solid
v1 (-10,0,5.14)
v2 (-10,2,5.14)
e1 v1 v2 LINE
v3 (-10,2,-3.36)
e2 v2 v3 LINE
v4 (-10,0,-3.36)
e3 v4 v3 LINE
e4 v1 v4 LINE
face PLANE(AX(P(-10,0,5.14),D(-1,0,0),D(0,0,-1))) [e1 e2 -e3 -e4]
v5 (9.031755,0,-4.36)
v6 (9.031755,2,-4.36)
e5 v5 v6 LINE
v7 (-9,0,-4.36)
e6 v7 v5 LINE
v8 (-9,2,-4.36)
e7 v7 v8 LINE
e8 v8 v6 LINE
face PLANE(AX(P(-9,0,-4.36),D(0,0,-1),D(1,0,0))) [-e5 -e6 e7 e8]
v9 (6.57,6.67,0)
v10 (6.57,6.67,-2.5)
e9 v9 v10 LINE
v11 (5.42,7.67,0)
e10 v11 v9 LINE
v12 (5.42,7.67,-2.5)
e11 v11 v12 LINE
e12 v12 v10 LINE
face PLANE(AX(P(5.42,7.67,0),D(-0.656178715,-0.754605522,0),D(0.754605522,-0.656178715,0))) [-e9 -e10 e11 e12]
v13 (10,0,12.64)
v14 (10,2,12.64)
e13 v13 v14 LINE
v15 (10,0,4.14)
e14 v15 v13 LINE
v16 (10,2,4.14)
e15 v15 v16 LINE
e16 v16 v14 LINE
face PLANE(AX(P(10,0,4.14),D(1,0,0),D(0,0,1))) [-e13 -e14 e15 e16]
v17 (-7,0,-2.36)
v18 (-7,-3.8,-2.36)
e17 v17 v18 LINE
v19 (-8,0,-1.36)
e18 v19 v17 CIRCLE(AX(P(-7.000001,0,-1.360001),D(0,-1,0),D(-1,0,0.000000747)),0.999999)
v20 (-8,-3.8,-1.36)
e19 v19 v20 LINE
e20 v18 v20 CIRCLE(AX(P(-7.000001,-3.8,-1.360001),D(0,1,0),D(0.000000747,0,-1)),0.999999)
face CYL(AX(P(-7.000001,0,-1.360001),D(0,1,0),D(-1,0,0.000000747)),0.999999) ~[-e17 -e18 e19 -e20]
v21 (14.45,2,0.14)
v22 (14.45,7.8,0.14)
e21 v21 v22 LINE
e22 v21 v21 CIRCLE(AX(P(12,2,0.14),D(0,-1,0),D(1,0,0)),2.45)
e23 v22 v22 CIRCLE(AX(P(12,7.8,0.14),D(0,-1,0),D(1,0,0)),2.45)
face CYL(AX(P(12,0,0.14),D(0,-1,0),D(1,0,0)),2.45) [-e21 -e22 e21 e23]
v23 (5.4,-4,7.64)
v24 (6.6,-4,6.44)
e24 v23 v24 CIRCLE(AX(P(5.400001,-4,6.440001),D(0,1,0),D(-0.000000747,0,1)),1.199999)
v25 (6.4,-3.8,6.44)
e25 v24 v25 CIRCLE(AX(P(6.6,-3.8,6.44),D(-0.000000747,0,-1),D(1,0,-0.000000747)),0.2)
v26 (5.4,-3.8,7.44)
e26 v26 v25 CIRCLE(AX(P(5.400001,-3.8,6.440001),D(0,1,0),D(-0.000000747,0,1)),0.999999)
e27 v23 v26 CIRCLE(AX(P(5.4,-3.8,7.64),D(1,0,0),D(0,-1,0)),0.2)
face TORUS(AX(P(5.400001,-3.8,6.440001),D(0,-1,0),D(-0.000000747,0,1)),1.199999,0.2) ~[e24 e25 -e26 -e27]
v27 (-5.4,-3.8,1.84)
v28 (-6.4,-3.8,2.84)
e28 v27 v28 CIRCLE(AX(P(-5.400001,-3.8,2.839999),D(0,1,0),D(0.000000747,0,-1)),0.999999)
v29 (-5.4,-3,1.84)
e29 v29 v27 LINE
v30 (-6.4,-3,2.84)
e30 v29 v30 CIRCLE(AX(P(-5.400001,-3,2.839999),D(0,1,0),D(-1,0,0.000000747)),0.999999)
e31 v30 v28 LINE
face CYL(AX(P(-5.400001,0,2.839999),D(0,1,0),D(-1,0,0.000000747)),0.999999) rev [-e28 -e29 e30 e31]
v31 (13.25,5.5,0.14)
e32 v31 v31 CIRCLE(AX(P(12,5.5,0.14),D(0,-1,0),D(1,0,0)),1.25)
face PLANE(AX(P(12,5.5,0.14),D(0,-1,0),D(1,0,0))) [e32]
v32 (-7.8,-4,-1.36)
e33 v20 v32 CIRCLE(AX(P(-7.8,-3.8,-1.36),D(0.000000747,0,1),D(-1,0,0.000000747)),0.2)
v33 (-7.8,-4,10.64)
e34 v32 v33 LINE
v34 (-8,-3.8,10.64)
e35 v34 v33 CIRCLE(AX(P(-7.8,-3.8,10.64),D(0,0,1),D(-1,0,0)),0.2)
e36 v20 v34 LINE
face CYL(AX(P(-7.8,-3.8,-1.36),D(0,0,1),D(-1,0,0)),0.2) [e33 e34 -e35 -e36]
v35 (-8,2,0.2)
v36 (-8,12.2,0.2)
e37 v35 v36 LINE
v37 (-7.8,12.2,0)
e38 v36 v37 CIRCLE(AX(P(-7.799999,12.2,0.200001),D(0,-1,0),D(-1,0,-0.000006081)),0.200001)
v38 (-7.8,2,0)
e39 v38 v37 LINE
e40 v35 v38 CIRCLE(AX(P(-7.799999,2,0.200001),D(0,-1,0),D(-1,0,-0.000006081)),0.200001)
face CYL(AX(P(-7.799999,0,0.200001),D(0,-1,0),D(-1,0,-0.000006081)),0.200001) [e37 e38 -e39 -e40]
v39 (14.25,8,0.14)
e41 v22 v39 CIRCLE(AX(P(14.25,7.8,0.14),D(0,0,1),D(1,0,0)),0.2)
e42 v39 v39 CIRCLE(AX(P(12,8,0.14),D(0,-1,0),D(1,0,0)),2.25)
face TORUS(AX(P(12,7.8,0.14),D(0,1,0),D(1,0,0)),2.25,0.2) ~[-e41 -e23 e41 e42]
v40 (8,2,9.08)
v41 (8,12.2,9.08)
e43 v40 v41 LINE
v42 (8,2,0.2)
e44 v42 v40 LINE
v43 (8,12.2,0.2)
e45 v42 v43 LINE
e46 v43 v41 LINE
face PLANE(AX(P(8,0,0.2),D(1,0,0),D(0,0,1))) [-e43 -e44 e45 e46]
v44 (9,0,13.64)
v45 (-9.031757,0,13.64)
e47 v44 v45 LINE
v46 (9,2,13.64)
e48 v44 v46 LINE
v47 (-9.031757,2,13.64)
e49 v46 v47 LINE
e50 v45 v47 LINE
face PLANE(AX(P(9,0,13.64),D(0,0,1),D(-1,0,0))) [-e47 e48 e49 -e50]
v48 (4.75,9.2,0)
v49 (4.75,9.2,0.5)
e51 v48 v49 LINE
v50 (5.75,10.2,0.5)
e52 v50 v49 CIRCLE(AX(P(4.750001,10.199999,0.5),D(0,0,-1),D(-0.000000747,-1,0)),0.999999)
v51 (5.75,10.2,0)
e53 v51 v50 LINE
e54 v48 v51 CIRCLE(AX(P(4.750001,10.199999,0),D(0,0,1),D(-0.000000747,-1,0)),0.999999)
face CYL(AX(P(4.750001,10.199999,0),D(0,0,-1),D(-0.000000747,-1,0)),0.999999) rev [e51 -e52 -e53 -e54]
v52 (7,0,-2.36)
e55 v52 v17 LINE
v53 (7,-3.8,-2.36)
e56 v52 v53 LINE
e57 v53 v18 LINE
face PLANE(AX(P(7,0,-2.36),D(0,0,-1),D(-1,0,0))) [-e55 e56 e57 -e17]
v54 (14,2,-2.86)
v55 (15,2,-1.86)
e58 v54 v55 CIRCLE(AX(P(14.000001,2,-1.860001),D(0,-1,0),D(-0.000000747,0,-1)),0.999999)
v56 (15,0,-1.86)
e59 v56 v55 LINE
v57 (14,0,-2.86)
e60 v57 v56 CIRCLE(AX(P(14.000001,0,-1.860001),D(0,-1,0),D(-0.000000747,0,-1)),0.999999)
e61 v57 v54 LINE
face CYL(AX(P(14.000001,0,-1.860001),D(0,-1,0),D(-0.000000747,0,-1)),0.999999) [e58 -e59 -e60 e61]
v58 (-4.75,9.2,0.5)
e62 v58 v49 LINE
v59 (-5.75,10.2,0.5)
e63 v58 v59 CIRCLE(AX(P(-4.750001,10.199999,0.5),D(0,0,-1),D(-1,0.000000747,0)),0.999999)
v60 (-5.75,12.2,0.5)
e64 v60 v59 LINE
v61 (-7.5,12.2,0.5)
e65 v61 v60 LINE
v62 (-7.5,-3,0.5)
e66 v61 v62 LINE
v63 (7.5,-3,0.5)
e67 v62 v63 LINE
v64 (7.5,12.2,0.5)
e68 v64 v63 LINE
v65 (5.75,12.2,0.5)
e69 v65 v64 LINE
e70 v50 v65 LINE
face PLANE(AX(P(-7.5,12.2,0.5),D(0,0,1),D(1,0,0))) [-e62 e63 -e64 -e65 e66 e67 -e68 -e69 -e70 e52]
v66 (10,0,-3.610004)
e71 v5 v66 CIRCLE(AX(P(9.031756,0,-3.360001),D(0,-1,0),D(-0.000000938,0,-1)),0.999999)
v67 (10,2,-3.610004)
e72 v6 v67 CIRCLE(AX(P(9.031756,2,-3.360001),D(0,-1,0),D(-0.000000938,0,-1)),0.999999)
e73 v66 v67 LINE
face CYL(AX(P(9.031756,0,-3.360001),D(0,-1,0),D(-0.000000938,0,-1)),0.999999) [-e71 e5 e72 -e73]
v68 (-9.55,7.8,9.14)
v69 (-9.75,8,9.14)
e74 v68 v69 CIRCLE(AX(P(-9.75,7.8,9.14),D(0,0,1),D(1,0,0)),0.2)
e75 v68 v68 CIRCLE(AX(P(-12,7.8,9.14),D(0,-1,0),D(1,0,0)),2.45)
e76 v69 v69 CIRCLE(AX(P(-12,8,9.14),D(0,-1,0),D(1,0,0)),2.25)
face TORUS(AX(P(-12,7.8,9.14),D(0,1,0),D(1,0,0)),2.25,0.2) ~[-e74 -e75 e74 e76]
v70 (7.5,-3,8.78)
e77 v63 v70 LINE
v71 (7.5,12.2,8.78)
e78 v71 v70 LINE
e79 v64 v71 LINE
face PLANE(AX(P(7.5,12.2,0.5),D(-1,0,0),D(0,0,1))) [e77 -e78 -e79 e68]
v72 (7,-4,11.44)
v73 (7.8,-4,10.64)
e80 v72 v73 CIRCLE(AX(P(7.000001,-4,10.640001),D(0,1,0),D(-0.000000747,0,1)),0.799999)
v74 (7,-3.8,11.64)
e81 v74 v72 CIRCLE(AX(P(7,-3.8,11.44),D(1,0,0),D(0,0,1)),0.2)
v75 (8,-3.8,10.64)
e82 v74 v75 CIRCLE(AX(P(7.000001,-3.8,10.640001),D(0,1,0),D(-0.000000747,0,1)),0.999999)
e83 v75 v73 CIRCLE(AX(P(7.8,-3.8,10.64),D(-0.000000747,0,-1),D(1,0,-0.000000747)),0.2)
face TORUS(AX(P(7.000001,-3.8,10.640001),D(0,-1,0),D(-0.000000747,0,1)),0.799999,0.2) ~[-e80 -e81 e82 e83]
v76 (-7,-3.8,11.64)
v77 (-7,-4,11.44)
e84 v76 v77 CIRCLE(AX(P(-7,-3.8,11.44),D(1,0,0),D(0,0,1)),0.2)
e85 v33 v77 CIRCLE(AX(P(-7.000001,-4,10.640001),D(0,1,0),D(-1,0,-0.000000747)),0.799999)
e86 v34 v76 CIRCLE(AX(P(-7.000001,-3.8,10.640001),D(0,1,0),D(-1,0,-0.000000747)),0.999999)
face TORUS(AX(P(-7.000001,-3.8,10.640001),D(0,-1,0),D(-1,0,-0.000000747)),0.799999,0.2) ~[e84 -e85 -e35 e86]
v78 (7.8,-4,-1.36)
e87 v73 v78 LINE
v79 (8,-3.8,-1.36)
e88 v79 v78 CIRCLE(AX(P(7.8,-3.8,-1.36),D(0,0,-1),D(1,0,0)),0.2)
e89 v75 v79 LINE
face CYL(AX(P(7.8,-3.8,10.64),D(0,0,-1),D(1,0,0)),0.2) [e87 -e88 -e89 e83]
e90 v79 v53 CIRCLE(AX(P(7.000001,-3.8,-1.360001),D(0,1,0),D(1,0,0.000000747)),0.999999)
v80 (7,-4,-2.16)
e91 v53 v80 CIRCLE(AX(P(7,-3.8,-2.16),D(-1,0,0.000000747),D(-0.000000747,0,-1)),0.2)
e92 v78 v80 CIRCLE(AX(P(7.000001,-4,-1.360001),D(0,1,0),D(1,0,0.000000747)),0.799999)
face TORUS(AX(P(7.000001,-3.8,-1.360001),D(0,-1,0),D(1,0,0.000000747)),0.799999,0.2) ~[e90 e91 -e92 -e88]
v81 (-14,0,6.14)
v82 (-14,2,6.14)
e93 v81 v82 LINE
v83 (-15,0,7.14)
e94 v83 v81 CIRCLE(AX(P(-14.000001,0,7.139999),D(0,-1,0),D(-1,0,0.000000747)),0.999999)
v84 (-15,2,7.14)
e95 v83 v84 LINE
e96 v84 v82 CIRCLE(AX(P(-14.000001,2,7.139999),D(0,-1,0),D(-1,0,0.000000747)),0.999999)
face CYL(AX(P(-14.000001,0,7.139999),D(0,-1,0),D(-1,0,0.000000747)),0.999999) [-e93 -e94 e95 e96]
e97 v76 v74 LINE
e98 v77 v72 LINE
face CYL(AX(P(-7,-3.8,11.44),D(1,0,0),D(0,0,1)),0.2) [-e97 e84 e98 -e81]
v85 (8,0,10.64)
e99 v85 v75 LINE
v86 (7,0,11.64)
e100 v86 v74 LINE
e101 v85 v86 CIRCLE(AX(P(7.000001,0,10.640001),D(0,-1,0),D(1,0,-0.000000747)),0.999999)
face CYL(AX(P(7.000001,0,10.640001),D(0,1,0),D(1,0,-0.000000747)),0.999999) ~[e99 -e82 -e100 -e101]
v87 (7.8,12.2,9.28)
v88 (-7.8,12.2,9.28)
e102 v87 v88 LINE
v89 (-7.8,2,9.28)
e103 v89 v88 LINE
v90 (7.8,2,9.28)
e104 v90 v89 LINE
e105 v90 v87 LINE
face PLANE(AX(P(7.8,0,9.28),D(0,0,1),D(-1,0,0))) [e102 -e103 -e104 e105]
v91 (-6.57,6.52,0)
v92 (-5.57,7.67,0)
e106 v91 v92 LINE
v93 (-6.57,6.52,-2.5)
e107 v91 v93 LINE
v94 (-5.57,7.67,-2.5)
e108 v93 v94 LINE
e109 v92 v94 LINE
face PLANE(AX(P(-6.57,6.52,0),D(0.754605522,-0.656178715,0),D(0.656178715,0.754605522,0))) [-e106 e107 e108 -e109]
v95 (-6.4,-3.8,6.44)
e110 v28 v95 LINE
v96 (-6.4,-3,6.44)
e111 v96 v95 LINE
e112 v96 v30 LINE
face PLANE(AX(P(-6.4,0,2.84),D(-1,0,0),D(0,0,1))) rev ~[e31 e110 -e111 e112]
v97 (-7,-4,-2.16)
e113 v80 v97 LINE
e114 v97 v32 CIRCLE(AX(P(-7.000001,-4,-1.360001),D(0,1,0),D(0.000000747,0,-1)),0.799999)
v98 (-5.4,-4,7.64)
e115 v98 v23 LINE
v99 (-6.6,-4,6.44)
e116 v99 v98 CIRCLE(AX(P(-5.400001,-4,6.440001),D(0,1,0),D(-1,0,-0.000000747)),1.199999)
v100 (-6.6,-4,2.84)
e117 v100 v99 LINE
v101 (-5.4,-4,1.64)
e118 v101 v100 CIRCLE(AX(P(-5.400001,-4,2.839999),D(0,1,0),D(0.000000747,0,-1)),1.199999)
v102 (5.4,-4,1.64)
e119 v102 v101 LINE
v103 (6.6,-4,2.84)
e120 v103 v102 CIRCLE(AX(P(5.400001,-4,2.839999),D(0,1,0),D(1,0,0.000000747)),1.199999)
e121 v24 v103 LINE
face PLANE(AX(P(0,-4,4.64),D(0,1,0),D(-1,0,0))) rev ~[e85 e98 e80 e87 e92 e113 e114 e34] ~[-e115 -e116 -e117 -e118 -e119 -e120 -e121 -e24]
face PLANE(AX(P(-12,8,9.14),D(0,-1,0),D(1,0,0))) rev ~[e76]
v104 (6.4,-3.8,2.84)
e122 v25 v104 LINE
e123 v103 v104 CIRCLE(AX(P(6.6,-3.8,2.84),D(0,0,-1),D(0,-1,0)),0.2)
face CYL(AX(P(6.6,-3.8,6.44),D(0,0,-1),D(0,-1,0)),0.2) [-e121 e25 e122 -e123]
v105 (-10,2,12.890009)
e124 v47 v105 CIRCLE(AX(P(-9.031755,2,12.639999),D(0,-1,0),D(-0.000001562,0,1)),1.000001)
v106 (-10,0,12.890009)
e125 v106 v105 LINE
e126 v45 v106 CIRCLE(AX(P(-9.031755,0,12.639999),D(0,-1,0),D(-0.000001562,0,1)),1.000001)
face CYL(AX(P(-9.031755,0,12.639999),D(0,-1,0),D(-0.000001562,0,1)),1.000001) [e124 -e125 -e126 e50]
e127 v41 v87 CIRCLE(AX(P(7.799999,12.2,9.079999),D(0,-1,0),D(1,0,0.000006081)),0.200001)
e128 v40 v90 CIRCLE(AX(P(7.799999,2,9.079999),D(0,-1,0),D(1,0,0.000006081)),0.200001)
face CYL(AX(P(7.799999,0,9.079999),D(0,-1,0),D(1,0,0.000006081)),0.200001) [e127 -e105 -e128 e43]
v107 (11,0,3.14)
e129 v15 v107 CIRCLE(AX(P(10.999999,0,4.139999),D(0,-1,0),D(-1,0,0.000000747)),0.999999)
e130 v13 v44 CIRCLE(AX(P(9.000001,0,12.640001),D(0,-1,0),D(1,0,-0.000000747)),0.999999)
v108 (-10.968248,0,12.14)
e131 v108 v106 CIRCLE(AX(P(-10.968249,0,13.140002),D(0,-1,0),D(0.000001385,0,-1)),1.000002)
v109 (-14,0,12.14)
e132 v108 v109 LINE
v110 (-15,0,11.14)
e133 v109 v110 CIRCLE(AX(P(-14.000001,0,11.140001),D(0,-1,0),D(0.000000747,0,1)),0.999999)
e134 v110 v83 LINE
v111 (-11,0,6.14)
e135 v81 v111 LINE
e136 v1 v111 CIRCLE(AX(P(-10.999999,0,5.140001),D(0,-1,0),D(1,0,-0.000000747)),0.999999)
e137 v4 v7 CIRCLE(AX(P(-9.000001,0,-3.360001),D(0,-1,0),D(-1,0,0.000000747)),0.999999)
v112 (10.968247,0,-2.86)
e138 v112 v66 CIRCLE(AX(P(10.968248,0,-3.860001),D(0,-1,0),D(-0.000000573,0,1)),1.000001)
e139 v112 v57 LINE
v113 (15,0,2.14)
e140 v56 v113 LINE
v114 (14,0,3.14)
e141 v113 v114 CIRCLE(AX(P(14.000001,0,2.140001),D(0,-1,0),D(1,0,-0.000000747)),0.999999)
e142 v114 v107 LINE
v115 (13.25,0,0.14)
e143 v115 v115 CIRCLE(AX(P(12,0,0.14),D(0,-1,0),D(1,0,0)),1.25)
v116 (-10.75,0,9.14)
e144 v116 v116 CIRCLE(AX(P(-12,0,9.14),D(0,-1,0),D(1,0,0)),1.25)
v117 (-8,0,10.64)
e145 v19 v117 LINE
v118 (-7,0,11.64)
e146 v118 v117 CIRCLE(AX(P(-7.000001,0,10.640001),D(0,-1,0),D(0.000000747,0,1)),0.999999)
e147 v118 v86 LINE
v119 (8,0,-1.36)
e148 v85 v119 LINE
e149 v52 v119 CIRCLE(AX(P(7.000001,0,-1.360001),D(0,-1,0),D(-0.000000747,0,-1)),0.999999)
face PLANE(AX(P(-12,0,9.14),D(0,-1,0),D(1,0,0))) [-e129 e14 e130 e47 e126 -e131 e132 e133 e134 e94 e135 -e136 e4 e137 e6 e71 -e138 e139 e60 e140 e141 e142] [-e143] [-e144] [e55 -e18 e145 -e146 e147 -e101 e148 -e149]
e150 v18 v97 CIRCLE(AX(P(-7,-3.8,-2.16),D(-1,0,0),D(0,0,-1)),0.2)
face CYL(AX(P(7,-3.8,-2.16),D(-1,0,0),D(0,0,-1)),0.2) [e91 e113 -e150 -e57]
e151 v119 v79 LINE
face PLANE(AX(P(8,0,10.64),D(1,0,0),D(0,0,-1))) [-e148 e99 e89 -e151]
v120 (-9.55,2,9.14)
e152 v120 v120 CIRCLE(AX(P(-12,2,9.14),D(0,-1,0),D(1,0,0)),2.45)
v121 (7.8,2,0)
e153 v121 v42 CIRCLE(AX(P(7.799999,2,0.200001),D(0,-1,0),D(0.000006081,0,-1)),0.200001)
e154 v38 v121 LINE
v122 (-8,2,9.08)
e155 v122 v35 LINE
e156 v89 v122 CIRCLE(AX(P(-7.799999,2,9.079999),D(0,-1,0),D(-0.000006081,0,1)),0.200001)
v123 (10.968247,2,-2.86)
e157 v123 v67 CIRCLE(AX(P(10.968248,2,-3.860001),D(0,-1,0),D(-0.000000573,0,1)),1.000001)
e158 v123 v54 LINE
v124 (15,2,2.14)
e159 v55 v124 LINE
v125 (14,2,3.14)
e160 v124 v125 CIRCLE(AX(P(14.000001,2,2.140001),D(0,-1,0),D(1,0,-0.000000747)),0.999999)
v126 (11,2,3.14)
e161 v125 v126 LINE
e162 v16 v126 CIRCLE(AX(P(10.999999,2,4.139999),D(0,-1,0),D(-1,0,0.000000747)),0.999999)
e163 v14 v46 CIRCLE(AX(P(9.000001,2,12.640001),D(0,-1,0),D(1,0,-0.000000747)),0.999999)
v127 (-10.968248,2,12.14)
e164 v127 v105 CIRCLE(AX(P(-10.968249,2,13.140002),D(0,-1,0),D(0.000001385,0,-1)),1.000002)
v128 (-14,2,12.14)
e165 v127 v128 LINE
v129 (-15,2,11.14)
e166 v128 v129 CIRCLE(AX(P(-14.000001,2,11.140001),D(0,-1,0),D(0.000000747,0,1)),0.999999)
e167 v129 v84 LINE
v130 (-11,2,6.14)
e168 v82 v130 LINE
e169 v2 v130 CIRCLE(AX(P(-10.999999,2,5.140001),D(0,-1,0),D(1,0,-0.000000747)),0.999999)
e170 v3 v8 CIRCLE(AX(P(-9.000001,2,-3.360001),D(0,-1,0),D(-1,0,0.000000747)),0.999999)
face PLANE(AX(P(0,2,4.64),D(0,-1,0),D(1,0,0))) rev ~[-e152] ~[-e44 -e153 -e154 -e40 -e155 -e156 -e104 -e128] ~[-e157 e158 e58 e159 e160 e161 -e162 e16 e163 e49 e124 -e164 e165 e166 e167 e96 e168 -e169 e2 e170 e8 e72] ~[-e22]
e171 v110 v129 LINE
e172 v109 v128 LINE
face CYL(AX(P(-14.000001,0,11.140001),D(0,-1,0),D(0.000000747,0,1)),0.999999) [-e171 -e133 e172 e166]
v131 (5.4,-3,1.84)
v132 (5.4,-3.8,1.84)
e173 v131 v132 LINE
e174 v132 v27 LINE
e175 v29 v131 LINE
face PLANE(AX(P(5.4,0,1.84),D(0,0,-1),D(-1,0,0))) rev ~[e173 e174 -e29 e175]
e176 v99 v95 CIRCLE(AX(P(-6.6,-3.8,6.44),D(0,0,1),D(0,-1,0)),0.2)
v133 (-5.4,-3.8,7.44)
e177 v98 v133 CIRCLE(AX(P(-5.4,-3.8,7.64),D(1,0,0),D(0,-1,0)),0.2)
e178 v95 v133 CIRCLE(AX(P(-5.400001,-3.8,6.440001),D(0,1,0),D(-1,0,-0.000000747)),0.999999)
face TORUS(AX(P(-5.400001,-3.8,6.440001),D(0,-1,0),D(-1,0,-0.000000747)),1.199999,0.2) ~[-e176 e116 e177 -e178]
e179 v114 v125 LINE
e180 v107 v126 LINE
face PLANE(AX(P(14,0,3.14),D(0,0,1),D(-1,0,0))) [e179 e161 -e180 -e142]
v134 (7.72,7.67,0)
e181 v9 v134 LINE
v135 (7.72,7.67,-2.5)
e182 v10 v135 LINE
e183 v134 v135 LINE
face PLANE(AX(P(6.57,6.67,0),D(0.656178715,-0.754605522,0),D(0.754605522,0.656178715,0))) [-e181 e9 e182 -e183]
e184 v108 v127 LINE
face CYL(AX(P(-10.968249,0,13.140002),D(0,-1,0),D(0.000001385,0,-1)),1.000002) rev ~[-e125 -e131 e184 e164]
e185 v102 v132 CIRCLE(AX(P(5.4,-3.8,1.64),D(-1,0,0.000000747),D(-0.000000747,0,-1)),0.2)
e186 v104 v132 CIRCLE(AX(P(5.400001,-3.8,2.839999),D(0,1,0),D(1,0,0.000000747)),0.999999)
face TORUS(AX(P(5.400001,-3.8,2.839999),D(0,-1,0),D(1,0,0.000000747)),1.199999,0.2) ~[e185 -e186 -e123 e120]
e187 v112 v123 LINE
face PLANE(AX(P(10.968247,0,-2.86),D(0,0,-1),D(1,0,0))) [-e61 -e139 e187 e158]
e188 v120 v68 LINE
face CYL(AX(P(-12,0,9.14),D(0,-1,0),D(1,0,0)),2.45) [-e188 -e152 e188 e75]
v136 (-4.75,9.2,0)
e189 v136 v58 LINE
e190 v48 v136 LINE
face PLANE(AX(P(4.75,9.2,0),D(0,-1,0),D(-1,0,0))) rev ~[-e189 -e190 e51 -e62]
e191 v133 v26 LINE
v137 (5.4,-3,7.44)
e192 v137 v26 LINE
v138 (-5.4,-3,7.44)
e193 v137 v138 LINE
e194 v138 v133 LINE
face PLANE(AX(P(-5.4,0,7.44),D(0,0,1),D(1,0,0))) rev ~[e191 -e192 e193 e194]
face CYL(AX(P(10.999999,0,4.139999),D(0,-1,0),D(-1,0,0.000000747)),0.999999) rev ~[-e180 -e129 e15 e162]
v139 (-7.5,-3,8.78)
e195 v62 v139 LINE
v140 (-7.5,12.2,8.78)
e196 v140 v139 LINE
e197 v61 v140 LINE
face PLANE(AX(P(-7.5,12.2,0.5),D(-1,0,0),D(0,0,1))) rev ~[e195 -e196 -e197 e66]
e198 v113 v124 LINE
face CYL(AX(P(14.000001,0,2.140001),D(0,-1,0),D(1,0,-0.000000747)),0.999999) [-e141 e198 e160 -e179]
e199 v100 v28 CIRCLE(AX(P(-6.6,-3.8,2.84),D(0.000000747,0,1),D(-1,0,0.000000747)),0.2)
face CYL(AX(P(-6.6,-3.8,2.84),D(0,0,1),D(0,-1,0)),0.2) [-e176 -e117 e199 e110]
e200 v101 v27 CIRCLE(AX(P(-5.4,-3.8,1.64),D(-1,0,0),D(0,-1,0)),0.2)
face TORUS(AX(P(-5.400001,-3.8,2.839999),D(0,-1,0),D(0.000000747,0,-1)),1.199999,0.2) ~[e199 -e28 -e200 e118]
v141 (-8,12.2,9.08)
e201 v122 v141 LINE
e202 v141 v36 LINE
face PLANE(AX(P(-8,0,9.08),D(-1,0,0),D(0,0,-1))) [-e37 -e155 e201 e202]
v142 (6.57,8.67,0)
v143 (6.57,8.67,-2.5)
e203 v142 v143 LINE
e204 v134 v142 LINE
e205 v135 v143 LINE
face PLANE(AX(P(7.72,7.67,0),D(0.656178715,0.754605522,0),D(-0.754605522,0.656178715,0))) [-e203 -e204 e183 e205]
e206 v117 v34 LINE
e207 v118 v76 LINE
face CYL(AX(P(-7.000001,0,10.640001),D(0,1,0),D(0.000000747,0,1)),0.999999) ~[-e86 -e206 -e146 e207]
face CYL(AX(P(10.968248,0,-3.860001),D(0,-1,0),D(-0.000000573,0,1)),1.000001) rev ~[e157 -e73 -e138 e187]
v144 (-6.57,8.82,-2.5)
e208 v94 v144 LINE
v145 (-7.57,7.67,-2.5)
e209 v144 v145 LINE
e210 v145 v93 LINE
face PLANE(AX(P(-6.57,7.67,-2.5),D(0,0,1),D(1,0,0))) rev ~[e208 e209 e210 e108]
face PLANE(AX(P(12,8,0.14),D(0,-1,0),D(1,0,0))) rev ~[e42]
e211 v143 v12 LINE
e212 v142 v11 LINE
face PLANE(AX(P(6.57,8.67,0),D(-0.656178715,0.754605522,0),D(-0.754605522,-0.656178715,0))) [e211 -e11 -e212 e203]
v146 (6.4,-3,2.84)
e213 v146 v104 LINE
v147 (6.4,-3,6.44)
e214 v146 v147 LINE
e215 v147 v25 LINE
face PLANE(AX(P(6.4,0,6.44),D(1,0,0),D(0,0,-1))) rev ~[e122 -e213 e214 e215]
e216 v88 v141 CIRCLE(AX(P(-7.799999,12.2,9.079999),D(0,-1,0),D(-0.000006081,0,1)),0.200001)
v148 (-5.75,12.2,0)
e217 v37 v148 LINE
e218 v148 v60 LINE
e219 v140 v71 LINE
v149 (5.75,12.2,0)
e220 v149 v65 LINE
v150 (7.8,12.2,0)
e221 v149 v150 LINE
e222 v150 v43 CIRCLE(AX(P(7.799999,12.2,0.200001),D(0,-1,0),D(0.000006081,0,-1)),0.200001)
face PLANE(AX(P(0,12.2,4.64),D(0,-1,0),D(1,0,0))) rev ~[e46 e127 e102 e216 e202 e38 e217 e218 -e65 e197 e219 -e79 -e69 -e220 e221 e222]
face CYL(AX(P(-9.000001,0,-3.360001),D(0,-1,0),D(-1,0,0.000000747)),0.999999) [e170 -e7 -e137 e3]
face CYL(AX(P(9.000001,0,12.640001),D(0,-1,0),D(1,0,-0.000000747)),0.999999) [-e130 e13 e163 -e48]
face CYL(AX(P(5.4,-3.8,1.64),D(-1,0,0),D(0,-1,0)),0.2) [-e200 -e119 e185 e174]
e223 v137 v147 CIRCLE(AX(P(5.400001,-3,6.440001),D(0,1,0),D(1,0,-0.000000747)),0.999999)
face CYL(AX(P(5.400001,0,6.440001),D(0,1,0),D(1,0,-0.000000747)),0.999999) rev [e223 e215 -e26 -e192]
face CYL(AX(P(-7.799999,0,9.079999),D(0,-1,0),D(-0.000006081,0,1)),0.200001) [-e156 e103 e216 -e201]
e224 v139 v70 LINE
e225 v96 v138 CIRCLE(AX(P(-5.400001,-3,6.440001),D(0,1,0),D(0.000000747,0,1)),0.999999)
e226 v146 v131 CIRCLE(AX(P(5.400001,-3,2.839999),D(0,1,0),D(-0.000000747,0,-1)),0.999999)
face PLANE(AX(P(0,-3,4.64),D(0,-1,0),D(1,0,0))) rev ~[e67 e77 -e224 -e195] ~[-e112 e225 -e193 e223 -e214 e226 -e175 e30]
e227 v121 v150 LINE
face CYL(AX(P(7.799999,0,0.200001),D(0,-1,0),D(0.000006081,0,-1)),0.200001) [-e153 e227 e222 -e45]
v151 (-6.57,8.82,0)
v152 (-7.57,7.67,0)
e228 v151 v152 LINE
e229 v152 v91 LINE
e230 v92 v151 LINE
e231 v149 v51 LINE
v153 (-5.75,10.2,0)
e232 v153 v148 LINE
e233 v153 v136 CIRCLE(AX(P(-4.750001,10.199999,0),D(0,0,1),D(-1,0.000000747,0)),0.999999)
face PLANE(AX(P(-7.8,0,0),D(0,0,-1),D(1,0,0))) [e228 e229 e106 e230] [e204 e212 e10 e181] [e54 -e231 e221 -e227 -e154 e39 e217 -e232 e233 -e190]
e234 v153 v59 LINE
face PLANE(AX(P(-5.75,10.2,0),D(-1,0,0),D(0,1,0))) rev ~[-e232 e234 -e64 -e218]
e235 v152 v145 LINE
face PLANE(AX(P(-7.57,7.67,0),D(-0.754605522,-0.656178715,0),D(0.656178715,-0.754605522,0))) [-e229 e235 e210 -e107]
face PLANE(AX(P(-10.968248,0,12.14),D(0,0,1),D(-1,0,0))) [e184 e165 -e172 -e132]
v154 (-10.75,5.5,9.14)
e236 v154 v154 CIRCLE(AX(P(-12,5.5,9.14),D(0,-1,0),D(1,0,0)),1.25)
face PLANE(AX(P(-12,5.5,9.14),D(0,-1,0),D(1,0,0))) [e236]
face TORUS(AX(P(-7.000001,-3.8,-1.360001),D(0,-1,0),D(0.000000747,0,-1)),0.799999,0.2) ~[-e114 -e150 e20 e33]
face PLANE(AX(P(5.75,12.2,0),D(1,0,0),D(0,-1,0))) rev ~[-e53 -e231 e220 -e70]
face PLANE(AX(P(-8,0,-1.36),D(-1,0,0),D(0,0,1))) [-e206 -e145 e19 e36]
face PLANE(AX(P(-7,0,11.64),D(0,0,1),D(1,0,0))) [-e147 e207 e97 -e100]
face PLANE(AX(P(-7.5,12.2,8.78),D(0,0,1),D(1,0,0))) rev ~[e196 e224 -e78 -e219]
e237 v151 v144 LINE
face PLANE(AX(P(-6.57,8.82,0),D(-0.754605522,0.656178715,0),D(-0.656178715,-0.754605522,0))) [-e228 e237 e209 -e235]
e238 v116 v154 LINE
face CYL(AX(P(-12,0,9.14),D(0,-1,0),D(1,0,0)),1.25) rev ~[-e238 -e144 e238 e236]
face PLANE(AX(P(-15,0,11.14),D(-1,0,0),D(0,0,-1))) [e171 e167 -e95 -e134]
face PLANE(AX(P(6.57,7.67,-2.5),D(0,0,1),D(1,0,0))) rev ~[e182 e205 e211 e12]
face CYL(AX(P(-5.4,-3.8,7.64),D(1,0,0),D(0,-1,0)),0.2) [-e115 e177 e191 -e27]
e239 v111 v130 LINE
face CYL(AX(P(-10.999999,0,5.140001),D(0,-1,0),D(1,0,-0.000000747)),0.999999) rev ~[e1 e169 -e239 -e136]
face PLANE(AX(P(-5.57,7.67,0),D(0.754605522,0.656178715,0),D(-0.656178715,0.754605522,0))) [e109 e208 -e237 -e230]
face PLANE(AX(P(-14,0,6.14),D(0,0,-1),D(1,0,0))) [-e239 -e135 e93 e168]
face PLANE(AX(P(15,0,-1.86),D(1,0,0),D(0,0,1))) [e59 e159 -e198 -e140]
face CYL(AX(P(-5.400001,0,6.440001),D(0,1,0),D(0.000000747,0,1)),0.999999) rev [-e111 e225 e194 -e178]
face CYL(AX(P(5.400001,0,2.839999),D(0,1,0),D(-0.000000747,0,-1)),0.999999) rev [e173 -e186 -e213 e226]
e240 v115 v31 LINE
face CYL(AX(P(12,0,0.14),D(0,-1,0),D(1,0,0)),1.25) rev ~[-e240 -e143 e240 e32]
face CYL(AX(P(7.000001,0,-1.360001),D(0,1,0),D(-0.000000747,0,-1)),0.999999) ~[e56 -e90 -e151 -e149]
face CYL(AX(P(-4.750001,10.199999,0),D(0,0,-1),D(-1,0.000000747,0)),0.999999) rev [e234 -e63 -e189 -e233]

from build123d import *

# Parameters (mm, degrees)
PAD_DEPTH       = 2
PAD001_DEPTH    = 4
PAD002_DEPTH    = 12.2
SKETCH003_W     = 15
SKETCH003_H     = 8.28
POCKET_DEPTH    = 15.2
SKETCH004_R     = 2.45
PAD003_DEPTH    = 8
SKETCH005_R     = 1.25
POCKET001_DEPTH = 5.5
POCKET002_DEPTH = 4.001
PAD004_DEPTH    = 2.5
POCKET003_DEPTH = 1
FILLET_R        = 0.2


with BuildPart() as part:
    # Sketch → Pad (new body)
    with BuildSketch(Plane.XZ):
        with BuildLine():
            Line((9, 13.64), (-9.031757, 13.64))
            ThreePointArc((-9.031757, 13.64), (-9.644125, 13.430572), (-10, 12.890009))
            ThreePointArc((-10.968248, 12.14), (-10.355872, 12.349434), (-10, 12.890009))
            Line((-10.968248, 12.14), (-14, 12.14))
            ThreePointArc((-14, 12.14), (-14.707107, 11.847107), (-15, 11.14))
            Line((-15, 11.14), (-15, 7.14))
            ThreePointArc((-15, 7.14), (-14.707107, 6.432893), (-14, 6.14))
            Line((-14, 6.14), (-11, 6.14))
            ThreePointArc((-10, 5.14), (-10.292893, 5.847107), (-11, 6.14))
            Line((-10, 5.14), (-10, -3.36))
            ThreePointArc((-10, -3.36), (-9.707107, -4.067107), (-9, -4.36))
            Line((-9, -4.36), (9.031755, -4.36))
            ThreePointArc((9.031755, -4.36), (9.644126, -4.150571), (10, -3.610004))
            ThreePointArc((10.968247, -2.86), (10.355873, -3.069432), (10, -3.610004))
            Line((10.968247, -2.86), (14, -2.86))
            ThreePointArc((14, -2.86), (14.707107, -2.567107), (15, -1.86))
            Line((15, -1.86), (15, 2.14))
            ThreePointArc((15, 2.14), (14.707107, 2.847107), (14, 3.14))
            Line((14, 3.14), (11, 3.14))
            ThreePointArc((10, 4.14), (10.292893, 3.432893), (11, 3.14))
            Line((10, 4.14), (10, 12.64))
            ThreePointArc((10, 12.64), (9.707107, 13.347107), (9, 13.64))
        make_face()
    extrude(amount=-PAD_DEPTH)

    # Sketch001 → Pad001 (join)
    with BuildSketch(Plane.XZ):
        with BuildLine():
            Line((-7, 11.64), (7, 11.64))
            ThreePointArc((8, 10.64), (7.707107, 11.347107), (7, 11.64))
            Line((8, 10.64), (8, -1.36))
            ThreePointArc((7, -2.36), (7.707107, -2.067107), (8, -1.36))
            Line((7, -2.36), (-7, -2.36))
            ThreePointArc((-8, -1.36), (-7.707107, -2.067107), (-7, -2.36))
            Line((-8, -1.36), (-8, 10.64))
            ThreePointArc((-7, 11.64), (-7.707107, 11.347107), (-8, 10.64))
        make_face()
    extrude(amount=PAD001_DEPTH)

    # Sketch002 → Pad002 (join)
    with BuildSketch(Plane.XZ):
        with BuildLine():
            Line((-7.8, 0), (7.8, 0))
            ThreePointArc((7.8, 0), (7.941421, 0.058579), (8, 0.2))
            Line((8, 0.2), (8, 9.08))
            ThreePointArc((8, 9.08), (7.941421, 9.221421), (7.8, 9.28))
            Line((7.8, 9.28), (-7.8, 9.28))
            ThreePointArc((-7.8, 9.28), (-7.941421, 9.221421), (-8, 9.08))
            Line((-8, 9.08), (-8, 0.2))
            ThreePointArc((-8, 0.2), (-7.941421, 0.058579), (-7.8, 0))
        make_face()
    extrude(amount=-PAD002_DEPTH)

    # Sketch003 → Pocket (cut)
    with BuildSketch(Plane.XZ.offset(-12.2)):
        with Locations((0, 4.64)):
            Rectangle(SKETCH003_W, SKETCH003_H)
    extrude(amount=POCKET_DEPTH, mode=Mode.SUBTRACT)

    # Sketch004 → Pad003 (join)
    with BuildSketch(Plane.XZ):
        with Locations((-12, 9.14)):
            Circle(SKETCH004_R)
        with Locations((12, 0.14)):
            Circle(SKETCH004_R)
    extrude(amount=-PAD003_DEPTH)

    # Sketch005 → Pocket001 (cut)
    with BuildSketch(Plane.XZ):
        with Locations((-12, 9.14)):
            Circle(SKETCH005_R)
        with Locations((12, 0.14)):
            Circle(SKETCH005_R)
    extrude(amount=-POCKET001_DEPTH, mode=Mode.SUBTRACT)

    # Sketch006 → Pocket002 (cut, through all)
    with BuildSketch(Plane.XZ):
        with BuildLine():
            Line((-5.4, 7.44), (5.4, 7.44))
            ThreePointArc((6.4, 6.44), (6.107107, 7.147107), (5.4, 7.44))
            Line((6.4, 6.44), (6.4, 2.84))
            ThreePointArc((5.4, 1.84), (6.107107, 2.132893), (6.4, 2.84))
            Line((5.4, 1.84), (-5.4, 1.84))
            ThreePointArc((-6.4, 2.84), (-6.107107, 2.132893), (-5.4, 1.84))
            Line((-6.4, 2.84), (-6.4, 6.44))
            ThreePointArc((-5.4, 7.44), (-6.107107, 7.147107), (-6.4, 6.44))
        make_face()
    extrude(amount=POCKET002_DEPTH, mode=Mode.SUBTRACT)

    # Sketch007 → Pad004 (join)
    with BuildSketch(Plane.XY):
        Polygon((-6.57, 8.82), (-7.57, 7.67), (-6.57, 6.52), (-5.57, 7.67), align=None)
        Polygon((6.57, 8.67), (5.42, 7.67), (6.57, 6.67), (7.72, 7.67), align=None)
    extrude(amount=-PAD004_DEPTH)

    # Sketch008 → Pocket003 (cut)
    with BuildSketch(Plane.XY):
        with BuildLine():
            Line((-5.75, 12.2), (5.75, 12.2))
            Line((5.75, 12.2), (5.75, 10.2))
            ThreePointArc((4.75, 9.2), (5.457107, 9.492893), (5.75, 10.2))
            Line((4.75, 9.2), (-4.75, 9.2))
            ThreePointArc((-5.75, 10.2), (-5.457107, 9.492893), (-4.75, 9.2))
            Line((-5.75, 10.2), (-5.75, 12.2))
        make_face()
    extrude(amount=POCKET003_DEPTH, mode=Mode.SUBTRACT)

    # Fillet
    fillet_edges = [part.edges().sort_by_distance(p)[0] for p in [
        (0, -4, 11.64),
        (0, -4, 7.44),
        (-14.45, 8, 9.14),
        (9.55, 8, 0.14),
    ]]
    fillet(fillet_edges, radius=FILLET_R)


solid = part.part
